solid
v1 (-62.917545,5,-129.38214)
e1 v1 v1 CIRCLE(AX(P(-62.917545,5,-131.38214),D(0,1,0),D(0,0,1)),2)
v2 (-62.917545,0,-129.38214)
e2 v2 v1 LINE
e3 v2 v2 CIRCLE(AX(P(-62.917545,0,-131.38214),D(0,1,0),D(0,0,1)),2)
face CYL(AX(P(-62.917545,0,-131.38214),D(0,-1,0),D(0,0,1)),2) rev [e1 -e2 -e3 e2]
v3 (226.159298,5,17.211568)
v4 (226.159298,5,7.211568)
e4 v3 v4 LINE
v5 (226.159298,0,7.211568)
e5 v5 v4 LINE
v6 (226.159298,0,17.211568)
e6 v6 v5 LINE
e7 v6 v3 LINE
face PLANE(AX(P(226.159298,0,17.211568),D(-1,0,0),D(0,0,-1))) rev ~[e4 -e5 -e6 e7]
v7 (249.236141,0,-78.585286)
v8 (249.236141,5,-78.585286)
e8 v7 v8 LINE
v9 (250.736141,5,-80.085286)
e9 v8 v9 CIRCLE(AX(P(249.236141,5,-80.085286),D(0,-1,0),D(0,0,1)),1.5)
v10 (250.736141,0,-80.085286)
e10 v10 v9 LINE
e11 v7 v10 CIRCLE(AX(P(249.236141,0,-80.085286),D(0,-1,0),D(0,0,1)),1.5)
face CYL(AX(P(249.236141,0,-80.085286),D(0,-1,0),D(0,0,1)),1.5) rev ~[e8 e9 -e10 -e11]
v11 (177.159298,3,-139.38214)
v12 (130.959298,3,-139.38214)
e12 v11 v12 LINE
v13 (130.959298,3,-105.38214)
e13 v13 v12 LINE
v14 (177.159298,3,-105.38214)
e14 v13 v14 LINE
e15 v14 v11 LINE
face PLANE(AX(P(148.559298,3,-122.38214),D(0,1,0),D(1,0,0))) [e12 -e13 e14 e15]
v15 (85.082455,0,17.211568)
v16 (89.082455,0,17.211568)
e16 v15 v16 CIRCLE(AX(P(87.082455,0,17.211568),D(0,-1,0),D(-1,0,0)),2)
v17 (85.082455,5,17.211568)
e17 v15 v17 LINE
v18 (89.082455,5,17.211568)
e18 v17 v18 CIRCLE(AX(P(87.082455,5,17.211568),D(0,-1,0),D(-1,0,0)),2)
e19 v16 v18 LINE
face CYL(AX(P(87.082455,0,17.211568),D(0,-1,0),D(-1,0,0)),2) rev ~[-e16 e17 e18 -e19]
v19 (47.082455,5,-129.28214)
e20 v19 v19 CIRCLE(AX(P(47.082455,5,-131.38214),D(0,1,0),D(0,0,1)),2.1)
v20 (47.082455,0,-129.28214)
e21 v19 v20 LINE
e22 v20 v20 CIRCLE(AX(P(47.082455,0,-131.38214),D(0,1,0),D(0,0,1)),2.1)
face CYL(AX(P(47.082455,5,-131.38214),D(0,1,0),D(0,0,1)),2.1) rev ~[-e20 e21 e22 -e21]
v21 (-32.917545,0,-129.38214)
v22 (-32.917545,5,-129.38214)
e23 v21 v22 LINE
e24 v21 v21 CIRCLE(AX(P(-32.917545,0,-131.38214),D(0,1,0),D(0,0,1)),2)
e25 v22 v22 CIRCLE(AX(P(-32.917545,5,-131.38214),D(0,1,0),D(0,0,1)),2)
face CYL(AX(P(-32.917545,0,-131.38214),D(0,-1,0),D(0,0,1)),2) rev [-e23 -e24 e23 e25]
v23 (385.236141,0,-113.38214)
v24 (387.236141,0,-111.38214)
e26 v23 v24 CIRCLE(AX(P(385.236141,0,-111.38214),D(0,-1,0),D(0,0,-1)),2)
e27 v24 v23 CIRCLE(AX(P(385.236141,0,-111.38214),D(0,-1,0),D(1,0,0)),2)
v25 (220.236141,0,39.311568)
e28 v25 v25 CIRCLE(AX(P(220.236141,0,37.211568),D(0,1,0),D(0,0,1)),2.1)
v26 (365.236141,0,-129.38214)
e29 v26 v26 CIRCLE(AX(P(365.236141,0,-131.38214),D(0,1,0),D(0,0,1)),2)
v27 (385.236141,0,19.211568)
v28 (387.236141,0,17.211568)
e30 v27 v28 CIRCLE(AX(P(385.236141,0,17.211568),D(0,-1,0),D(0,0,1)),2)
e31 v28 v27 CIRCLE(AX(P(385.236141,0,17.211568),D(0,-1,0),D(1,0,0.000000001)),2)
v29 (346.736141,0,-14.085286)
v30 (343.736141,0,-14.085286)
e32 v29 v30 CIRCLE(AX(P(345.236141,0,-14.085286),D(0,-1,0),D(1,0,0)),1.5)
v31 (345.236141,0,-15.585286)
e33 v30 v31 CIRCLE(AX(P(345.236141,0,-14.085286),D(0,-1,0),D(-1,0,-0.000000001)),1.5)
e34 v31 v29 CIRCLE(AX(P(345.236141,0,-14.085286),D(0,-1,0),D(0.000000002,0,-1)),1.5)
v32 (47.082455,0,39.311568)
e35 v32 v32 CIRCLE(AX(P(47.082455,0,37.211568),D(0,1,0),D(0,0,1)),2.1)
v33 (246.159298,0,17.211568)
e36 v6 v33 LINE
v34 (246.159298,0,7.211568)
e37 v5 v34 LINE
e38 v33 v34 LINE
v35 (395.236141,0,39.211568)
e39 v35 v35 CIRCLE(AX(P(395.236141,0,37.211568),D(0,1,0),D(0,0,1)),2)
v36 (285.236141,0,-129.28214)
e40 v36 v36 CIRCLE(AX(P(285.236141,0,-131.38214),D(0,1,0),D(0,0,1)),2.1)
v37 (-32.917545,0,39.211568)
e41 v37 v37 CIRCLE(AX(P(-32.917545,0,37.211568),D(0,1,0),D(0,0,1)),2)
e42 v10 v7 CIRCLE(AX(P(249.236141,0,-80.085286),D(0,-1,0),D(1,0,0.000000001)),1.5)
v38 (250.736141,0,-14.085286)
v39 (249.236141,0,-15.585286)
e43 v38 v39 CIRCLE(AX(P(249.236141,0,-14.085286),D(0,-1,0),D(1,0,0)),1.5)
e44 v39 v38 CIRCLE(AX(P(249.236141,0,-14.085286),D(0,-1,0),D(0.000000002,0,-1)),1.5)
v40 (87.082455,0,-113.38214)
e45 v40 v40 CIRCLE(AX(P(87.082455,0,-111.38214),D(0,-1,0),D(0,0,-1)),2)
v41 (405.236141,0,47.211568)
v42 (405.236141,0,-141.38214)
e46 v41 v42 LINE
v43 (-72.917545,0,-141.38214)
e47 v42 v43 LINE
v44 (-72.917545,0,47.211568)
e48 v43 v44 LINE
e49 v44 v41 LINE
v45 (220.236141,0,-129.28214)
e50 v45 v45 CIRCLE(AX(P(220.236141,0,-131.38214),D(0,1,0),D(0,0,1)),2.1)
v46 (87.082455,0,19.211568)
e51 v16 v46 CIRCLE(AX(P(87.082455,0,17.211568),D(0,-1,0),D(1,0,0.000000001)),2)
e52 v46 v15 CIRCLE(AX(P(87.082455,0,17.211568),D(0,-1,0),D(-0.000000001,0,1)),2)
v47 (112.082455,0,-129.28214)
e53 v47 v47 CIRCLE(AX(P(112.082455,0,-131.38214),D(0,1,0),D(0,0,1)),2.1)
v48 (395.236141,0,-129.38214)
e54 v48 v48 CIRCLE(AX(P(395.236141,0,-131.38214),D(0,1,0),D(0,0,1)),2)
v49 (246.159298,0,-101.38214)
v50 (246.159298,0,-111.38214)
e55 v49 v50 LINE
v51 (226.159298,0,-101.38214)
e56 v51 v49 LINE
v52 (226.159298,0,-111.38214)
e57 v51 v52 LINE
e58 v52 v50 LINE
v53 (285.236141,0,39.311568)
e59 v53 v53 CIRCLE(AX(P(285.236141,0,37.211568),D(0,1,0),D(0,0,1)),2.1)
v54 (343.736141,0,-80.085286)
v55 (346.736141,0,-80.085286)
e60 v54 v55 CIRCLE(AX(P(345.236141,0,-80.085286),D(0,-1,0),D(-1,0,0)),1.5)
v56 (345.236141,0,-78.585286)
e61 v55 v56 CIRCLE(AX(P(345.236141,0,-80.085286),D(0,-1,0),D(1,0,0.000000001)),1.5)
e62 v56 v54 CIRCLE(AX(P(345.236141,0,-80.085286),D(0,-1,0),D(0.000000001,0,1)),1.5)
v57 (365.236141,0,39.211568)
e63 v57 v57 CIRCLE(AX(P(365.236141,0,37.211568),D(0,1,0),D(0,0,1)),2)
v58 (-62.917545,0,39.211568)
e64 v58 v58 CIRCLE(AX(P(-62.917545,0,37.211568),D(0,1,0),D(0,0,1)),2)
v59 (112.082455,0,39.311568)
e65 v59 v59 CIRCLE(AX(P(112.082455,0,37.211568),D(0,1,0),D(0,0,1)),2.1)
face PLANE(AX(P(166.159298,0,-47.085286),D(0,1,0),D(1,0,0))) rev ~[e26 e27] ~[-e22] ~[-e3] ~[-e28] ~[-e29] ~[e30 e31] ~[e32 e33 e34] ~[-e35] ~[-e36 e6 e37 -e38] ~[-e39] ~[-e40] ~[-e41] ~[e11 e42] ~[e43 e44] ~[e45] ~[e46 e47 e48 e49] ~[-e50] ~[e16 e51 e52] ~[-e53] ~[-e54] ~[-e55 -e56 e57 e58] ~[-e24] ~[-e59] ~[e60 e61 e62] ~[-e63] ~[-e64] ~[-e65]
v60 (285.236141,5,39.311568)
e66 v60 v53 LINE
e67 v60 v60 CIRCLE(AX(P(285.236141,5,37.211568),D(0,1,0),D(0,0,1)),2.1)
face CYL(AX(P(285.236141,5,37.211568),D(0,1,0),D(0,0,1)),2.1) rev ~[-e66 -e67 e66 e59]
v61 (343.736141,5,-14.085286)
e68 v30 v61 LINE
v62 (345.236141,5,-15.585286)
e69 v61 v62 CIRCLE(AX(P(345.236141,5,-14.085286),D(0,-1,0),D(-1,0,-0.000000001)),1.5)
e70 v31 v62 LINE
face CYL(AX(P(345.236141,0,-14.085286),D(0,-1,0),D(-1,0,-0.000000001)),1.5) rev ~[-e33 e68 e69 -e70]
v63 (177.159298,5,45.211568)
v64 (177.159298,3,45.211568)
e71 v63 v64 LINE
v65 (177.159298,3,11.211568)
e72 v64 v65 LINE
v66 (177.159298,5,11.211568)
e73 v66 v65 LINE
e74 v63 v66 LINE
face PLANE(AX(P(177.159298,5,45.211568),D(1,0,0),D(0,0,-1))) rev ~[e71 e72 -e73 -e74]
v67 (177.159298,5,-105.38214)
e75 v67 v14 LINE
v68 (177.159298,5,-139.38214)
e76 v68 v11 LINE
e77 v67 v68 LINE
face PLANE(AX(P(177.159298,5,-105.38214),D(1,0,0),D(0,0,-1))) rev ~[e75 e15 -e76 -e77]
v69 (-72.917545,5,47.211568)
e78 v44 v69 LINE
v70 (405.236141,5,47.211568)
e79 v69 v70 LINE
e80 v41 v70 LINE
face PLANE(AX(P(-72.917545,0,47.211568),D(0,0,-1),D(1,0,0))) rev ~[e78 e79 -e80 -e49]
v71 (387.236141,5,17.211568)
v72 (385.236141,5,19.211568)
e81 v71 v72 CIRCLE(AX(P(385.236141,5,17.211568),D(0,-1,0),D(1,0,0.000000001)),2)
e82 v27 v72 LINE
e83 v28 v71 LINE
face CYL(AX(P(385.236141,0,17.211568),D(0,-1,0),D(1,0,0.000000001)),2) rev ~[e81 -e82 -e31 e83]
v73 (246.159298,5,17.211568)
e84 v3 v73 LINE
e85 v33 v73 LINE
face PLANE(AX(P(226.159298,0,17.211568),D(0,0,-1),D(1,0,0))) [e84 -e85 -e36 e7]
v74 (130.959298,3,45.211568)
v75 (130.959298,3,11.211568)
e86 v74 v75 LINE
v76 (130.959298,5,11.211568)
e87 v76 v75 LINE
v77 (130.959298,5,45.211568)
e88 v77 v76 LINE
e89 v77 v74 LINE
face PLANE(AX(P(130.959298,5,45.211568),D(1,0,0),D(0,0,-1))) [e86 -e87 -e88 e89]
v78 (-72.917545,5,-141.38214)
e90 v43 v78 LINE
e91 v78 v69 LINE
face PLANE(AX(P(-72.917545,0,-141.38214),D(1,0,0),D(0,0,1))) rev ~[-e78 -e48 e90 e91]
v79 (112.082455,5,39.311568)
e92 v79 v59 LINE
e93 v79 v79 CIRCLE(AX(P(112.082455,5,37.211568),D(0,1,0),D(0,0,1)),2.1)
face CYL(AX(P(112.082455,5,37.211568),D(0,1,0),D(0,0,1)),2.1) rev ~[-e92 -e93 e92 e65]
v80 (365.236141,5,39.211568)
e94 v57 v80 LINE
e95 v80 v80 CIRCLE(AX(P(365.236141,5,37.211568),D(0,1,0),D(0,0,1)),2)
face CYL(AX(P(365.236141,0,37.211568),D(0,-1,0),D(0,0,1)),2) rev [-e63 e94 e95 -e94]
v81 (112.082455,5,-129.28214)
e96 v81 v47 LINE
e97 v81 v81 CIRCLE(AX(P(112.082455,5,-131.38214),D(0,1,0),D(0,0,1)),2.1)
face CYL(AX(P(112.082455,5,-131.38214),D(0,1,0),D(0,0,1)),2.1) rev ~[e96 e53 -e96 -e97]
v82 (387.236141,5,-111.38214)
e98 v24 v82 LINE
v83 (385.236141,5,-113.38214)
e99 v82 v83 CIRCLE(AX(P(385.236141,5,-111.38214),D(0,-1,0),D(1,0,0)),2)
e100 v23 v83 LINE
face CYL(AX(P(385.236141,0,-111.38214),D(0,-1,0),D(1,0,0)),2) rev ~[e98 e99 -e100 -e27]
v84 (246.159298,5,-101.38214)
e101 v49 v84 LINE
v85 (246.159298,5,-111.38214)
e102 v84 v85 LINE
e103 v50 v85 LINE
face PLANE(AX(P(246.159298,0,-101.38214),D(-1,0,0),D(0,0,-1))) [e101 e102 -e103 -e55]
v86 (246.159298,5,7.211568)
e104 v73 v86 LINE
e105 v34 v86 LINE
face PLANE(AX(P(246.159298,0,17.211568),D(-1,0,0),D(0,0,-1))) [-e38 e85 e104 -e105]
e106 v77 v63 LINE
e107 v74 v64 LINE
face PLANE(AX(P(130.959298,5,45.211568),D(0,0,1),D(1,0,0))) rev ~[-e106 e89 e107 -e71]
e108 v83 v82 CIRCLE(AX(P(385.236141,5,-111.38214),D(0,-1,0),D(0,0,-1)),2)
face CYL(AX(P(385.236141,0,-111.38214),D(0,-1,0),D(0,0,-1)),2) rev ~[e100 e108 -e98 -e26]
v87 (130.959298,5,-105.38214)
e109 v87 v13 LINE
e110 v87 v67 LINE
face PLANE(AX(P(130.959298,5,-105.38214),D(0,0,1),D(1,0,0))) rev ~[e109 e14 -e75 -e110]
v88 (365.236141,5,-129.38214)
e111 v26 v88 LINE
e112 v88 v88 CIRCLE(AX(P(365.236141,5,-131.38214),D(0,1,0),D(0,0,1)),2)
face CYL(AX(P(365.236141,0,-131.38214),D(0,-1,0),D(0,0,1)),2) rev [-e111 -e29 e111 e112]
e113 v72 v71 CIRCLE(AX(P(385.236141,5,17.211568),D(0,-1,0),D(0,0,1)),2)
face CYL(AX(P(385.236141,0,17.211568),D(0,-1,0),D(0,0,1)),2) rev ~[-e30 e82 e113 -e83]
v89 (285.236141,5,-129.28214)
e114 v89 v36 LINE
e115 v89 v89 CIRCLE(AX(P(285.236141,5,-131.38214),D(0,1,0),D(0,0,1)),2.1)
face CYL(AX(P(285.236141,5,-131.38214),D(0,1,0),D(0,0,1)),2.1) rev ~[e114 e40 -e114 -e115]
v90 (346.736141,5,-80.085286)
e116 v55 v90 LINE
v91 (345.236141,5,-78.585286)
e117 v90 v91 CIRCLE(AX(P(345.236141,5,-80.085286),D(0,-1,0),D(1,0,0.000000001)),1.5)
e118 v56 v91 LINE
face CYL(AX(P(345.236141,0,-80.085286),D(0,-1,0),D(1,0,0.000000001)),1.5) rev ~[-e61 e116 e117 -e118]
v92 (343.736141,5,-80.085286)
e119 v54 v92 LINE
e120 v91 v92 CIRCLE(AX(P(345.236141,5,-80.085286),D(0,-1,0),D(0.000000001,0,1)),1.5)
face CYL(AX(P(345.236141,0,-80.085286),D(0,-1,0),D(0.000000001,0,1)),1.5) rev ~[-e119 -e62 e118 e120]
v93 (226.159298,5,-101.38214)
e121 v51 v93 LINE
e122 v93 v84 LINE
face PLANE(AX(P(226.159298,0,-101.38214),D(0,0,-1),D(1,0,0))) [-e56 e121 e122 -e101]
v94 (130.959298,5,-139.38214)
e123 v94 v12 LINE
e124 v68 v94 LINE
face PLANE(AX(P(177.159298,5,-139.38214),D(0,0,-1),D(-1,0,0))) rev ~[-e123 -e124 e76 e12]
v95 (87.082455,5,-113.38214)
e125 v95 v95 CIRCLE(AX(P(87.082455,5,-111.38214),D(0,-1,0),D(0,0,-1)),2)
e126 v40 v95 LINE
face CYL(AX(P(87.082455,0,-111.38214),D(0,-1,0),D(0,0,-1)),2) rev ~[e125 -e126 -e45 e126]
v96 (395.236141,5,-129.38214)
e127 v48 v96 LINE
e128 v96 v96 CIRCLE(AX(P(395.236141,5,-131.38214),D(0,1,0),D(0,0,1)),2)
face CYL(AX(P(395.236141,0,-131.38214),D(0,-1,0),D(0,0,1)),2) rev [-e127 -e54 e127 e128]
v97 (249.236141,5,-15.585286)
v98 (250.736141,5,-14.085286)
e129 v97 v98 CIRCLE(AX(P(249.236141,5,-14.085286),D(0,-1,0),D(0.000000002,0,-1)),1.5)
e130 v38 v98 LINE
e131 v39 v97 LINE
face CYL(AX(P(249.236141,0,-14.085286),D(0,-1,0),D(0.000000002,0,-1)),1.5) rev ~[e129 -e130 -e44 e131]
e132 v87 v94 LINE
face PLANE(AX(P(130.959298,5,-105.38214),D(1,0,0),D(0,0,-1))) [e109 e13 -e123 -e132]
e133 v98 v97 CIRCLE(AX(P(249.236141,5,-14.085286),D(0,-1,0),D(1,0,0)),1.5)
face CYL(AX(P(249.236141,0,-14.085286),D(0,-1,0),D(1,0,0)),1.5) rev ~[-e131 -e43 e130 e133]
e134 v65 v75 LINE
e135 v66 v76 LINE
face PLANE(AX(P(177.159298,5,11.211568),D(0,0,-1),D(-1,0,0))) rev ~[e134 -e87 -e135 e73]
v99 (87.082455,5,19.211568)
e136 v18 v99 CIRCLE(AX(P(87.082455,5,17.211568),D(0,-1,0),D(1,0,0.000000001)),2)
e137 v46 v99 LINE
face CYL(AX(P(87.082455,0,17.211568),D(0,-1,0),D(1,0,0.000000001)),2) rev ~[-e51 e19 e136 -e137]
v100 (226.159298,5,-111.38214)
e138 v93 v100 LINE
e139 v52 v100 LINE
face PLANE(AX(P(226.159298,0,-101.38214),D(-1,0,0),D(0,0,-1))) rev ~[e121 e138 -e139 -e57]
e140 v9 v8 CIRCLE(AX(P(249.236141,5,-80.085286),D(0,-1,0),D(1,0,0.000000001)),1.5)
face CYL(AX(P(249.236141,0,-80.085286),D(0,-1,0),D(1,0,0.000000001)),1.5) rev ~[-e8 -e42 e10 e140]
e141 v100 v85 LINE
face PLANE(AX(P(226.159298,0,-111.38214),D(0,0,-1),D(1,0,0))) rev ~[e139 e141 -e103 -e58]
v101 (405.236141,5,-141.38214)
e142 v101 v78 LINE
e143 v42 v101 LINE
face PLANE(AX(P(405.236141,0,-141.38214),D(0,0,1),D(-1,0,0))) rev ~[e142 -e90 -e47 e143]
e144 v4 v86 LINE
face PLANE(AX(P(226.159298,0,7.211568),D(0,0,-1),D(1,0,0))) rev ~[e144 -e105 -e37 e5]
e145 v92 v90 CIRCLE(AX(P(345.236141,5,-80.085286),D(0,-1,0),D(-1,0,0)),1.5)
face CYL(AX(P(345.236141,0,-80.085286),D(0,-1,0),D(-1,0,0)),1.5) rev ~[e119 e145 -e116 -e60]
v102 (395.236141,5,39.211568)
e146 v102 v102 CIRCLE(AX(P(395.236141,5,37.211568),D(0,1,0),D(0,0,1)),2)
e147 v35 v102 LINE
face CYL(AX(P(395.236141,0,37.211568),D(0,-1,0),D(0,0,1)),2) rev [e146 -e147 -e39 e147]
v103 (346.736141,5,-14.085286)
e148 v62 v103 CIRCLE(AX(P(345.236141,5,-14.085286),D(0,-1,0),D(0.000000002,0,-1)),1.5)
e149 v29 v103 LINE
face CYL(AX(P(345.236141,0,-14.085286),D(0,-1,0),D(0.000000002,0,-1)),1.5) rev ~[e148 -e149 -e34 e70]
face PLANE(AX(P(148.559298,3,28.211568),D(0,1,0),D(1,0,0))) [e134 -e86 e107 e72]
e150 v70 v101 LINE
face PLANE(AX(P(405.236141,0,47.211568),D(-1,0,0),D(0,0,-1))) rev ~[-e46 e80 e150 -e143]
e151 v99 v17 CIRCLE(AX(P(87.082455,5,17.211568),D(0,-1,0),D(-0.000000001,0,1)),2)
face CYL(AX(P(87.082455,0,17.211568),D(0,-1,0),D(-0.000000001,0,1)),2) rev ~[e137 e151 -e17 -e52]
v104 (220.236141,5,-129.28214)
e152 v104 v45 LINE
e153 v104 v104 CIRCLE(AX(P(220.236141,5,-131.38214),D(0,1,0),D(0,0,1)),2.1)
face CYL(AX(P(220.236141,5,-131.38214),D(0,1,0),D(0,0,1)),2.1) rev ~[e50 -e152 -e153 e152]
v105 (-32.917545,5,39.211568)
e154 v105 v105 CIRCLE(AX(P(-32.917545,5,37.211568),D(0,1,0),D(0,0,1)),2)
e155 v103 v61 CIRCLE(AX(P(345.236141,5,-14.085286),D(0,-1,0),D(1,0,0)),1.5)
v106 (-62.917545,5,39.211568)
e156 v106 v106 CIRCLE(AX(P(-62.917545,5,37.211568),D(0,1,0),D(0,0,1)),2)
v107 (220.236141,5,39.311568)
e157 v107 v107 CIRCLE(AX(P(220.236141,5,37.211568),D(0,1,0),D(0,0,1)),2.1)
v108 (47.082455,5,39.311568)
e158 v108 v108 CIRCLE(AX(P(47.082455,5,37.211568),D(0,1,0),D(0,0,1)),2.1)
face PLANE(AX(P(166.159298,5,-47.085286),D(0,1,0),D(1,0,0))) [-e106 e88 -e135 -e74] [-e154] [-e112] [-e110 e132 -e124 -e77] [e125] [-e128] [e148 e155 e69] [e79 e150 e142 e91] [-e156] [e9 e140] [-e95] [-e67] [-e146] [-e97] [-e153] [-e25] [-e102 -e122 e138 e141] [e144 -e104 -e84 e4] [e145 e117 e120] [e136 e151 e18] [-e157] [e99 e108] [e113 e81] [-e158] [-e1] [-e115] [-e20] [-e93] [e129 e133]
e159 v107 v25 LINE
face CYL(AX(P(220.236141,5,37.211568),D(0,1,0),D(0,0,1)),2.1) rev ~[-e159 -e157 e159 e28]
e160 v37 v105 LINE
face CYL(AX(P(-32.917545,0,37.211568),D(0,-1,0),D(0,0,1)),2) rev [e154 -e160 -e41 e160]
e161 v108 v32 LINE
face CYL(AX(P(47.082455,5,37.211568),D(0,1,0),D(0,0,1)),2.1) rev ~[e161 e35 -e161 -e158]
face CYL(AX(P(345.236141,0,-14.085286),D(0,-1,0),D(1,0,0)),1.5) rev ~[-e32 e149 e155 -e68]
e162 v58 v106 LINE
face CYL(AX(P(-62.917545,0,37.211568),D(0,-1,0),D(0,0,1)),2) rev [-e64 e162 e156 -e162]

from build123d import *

# Parameters (mm, degrees)
ESQUISSE1_R             = 2
ESQUISSE1_W             = 20
ESQUISSE1_H             = 10
BOSS_EXTRU_4_DEPTH      = 5
ESQUISSE2_W             = 35.2
ESQUISSE2_H             = 34
ESQUISSE2_W_2           = 11
ENL_V_MAT_EXTRU_1_DEPTH = 2
ESQUISSE3_R             = 2
ENL_V_MAT_EXTRU_2_DEPTH = 5
ESQUISSE5_R             = 2.1
ENL_V_MAT_EXTRU_3_DEPTH = 10


with BuildPart() as part:
    # Esquisse1 → Boss.-Extru.4 (new body)
    with BuildSketch(Plane(origin=(0, 0, 0), x_dir=(1, 0, 0), z_dir=(0, 1, 0))):
        Polygon((405.236140528, 141.382140187), (246.159297522, 141.382140187), (-72.917545484, 141.382140187), (-72.917545484, -47.211568366), (246.159297522, -47.211568366), (405.236140528, -47.211568366), align=None)
        with Locations(Location((395.236140528, -37.211568366, 0), (0, 0, 270))):
            Circle(ESQUISSE1_R, mode=Mode.SUBTRACT)
        with Locations(Location((-62.917545484, -37.211568366, 0), (0, 0, 270))):
            Circle(ESQUISSE1_R, mode=Mode.SUBTRACT)
        with Locations(Location((-32.917545484, -37.211568366, 0), (0, 0, 270))):
            Circle(ESQUISSE1_R, mode=Mode.SUBTRACT)
        with Locations((236.159297522, -12.211568366)):
            Rectangle(ESQUISSE1_W, ESQUISSE1_H, mode=Mode.SUBTRACT)
        with Locations(Location((365.236140528, -37.211568366, 0), (0, 0, 270))):
            Circle(ESQUISSE1_R, mode=Mode.SUBTRACT)
        with Locations(Location((-62.917545484, 131.382140187, 0), (0, 0, 270))):
            Circle(ESQUISSE1_R, mode=Mode.SUBTRACT)
        with Locations(Location((-32.917545484, 131.382140187, 0), (0, 0, 270))):
            Circle(ESQUISSE1_R, mode=Mode.SUBTRACT)
        with Locations((236.159297522, 106.382140187)):
            Rectangle(ESQUISSE1_W, ESQUISSE1_H, mode=Mode.SUBTRACT)
        with Locations(Location((365.236140528, 131.382140187, 0), (0, 0, 270))):
            Circle(ESQUISSE1_R, mode=Mode.SUBTRACT)
        with Locations(Location((395.236140528, 131.382140187, 0), (0, 0, 270))):
            Circle(ESQUISSE1_R, mode=Mode.SUBTRACT)
    extrude(amount=BOSS_EXTRU_4_DEPTH)

    # Esquisse2 → Enlèv. mat.-Extru.1 (cut)
    with BuildSketch(Plane(origin=(0, 5, 0), x_dir=(1, 0, 0), z_dir=(0, 1, 0))):
        with Locations((148.559297522, 122.382140187)):
            Rectangle(ESQUISSE2_W, ESQUISSE2_H)
        with Locations((171.659297522, 122.382140187)):
            Rectangle(ESQUISSE2_W_2, ESQUISSE2_H)
        with Locations((148.559297522, -28.211568366)):
            Rectangle(ESQUISSE2_W, ESQUISSE2_H)
        with Locations((171.659297522, -28.211568366)):
            Rectangle(ESQUISSE2_W_2, ESQUISSE2_H)
    extrude(amount=-ENL_V_MAT_EXTRU_1_DEPTH, mode=Mode.SUBTRACT)

    # Esquisse3 → Enlèv. mat.-Extru.2 (cut)
    with BuildSketch(Plane.XZ):
        with BuildLine():
            ThreePointArc((387.236140528, -111.382140187), (383.821926965, -109.967926625), (385.236140528, -113.382140187))
            Line((385.236140528, -113.382140187), (385.236140528, -111.382140187))
            Line((385.236140528, -111.382140187), (387.236140528, -111.382140187))
        make_face()
        with BuildLine():
            Line((385.236140528, -111.382140187), (385.236140528, -113.382140187))
            ThreePointArc((385.236140528, -113.382140187), (386.65035409, -112.79635375), (387.236140528, -111.382140187))
            Line((387.236140528, -111.382140187), (385.236140528, -111.382140187))
        make_face()
        with BuildLine():
            ThreePointArc((387.236140528, 17.211568366), (386.65035409, 18.625781928), (385.236140528, 19.211568366))
            Line((385.236140528, 19.211568366), (385.236140528, 17.211568366))
            Line((385.236140528, 17.211568366), (387.236140528, 17.211568366))
        make_face()
        with BuildLine():
            Line((385.236140528, 17.211568366), (385.236140528, 19.211568366))
            ThreePointArc((385.236140528, 19.211568366), (383.821926965, 15.797354804), (387.236140528, 17.211568366))
            Line((387.236140528, 17.211568366), (385.236140528, 17.211568366))
        make_face()
        with BuildLine():
            ThreePointArc((346.736140528, -80.085285911), (346.296800699, -79.024625739), (345.236140528, -78.585285911))
            Line((345.236140528, -78.585285911), (345.236140528, -80.085285911))
            Line((345.236140528, -80.085285911), (343.736140528, -80.085285911))
            ThreePointArc((343.736140528, -80.085285911), (345.236140528, -81.585285911), (346.736140528, -80.085285911))
        make_face()
        with BuildLine():
            Line((345.236140528, -80.085285911), (345.236140528, -78.585285911))
            ThreePointArc((345.236140528, -78.585285911), (344.175480356, -79.024625739), (343.736140528, -80.085285911))
            Line((343.736140528, -80.085285911), (345.236140528, -80.085285911))
        make_face()
        with BuildLine():
            ThreePointArc((343.736140528, -14.085285911), (344.175480356, -15.145946082), (345.236140528, -15.585285911))
            Line((345.236140528, -15.585285911), (345.236140528, -14.085285911))
            Line((345.236140528, -14.085285911), (343.736140528, -14.085285911))
        make_face()
        with BuildLine():
            Line((345.236140528, -14.085285911), (345.236140528, -15.585285911))
            ThreePointArc((345.236140528, -15.585285911), (346.296800699, -15.145946082), (346.736140528, -14.085285911))
            ThreePointArc((346.736140528, -14.085285911), (345.236140528, -12.585285911), (343.736140528, -14.085285911))
            Line((343.736140528, -14.085285911), (345.236140528, -14.085285911))
        make_face()
        with BuildLine():
            ThreePointArc((249.236140528, -15.585285911), (250.296800699, -15.145946082), (250.736140528, -14.085285911))
            Line((250.736140528, -14.085285911), (249.236140528, -14.085285911))
            Line((249.236140528, -14.085285911), (249.236140528, -15.585285911))
        make_face()
        with BuildLine():
            Line((249.236140528, -14.085285911), (250.736140528, -14.085285911))
            ThreePointArc((250.736140528, -14.085285911), (248.175480356, -13.024625739), (249.236140528, -15.585285911))
            Line((249.236140528, -15.585285911), (249.236140528, -14.085285911))
        make_face()
        with BuildLine():
            ThreePointArc((249.236140528, -78.585285911), (248.175480356, -81.145946082), (250.736140528, -80.085285911))
            Line((250.736140528, -80.085285911), (249.236140528, -80.085285911))
            Line((249.236140528, -80.085285911), (249.236140528, -78.585285911))
        make_face()
        with BuildLine():
            Line((249.236140528, -80.085285911), (250.736140528, -80.085285911))
            ThreePointArc((250.736140528, -80.085285911), (250.296800699, -79.024625739), (249.236140528, -78.585285911))
            Line((249.236140528, -78.585285911), (249.236140528, -80.085285911))
        make_face()
        with BuildLine():
            ThreePointArc((87.082454516, 19.211568366), (85.668240954, 18.625781928), (85.082454516, 17.211568366))
            Line((85.082454516, 17.211568366), (87.082454516, 17.211568366))
            Line((87.082454516, 17.211568366), (87.082454516, 19.211568366))
        make_face()
        with BuildLine():
            Line((87.082454516, 17.211568366), (85.082454516, 17.211568366))
            ThreePointArc((85.082454516, 17.211568366), (87.082454516, 15.211568366), (89.082454516, 17.211568366))
            ThreePointArc((89.082454516, 17.211568366), (88.496668078, 18.625781928), (87.082454516, 19.211568366))
            Line((87.082454516, 19.211568366), (87.082454516, 17.211568366))
        make_face()
        with Locations(Location((87.082454516, -111.382140187, 0), (0, 0, 270))):
            Circle(ESQUISSE3_R)
    extrude(amount=-ENL_V_MAT_EXTRU_2_DEPTH, mode=Mode.SUBTRACT)

    # Esquisse5 → Enlèv. mat.-Extru.3 (cut)
    with BuildSketch(Plane(origin=(0, 5, 0), x_dir=(1, 0, 0), z_dir=(0, 1, 0))):
        with Locations(Location((285.236140528, 131.382140187, 0), (0, 0, 270))):
            Circle(ESQUISSE5_R)
        with Locations(Location((285.236140528, -37.211568366, 0), (0, 0, 270))):
            Circle(ESQUISSE5_R)
        with Locations(Location((47.082454516, 131.382140187, 0), (0, 0, 270))):
            Circle(ESQUISSE5_R)
        with Locations(Location((47.082454516, -37.211568366, 0), (0, 0, 270))):
            Circle(ESQUISSE5_R)
        with Locations(Location((220.236140528, 131.382140187, 0), (0, 0, 270))):
            Circle(ESQUISSE5_R)
        with Locations(Location((220.236140528, -37.211568366, 0), (0, 0, 270))):
            Circle(ESQUISSE5_R)
        with Locations(Location((112.082454516, 131.382140187, 0), (0, 0, 270))):
            Circle(ESQUISSE5_R)
        with Locations(Location((112.082454516, -37.211568366, 0), (0, 0, 270))):
            Circle(ESQUISSE5_R)
    extrude(amount=-ENL_V_MAT_EXTRU_3_DEPTH, mode=Mode.SUBTRACT)


solid = part.part
